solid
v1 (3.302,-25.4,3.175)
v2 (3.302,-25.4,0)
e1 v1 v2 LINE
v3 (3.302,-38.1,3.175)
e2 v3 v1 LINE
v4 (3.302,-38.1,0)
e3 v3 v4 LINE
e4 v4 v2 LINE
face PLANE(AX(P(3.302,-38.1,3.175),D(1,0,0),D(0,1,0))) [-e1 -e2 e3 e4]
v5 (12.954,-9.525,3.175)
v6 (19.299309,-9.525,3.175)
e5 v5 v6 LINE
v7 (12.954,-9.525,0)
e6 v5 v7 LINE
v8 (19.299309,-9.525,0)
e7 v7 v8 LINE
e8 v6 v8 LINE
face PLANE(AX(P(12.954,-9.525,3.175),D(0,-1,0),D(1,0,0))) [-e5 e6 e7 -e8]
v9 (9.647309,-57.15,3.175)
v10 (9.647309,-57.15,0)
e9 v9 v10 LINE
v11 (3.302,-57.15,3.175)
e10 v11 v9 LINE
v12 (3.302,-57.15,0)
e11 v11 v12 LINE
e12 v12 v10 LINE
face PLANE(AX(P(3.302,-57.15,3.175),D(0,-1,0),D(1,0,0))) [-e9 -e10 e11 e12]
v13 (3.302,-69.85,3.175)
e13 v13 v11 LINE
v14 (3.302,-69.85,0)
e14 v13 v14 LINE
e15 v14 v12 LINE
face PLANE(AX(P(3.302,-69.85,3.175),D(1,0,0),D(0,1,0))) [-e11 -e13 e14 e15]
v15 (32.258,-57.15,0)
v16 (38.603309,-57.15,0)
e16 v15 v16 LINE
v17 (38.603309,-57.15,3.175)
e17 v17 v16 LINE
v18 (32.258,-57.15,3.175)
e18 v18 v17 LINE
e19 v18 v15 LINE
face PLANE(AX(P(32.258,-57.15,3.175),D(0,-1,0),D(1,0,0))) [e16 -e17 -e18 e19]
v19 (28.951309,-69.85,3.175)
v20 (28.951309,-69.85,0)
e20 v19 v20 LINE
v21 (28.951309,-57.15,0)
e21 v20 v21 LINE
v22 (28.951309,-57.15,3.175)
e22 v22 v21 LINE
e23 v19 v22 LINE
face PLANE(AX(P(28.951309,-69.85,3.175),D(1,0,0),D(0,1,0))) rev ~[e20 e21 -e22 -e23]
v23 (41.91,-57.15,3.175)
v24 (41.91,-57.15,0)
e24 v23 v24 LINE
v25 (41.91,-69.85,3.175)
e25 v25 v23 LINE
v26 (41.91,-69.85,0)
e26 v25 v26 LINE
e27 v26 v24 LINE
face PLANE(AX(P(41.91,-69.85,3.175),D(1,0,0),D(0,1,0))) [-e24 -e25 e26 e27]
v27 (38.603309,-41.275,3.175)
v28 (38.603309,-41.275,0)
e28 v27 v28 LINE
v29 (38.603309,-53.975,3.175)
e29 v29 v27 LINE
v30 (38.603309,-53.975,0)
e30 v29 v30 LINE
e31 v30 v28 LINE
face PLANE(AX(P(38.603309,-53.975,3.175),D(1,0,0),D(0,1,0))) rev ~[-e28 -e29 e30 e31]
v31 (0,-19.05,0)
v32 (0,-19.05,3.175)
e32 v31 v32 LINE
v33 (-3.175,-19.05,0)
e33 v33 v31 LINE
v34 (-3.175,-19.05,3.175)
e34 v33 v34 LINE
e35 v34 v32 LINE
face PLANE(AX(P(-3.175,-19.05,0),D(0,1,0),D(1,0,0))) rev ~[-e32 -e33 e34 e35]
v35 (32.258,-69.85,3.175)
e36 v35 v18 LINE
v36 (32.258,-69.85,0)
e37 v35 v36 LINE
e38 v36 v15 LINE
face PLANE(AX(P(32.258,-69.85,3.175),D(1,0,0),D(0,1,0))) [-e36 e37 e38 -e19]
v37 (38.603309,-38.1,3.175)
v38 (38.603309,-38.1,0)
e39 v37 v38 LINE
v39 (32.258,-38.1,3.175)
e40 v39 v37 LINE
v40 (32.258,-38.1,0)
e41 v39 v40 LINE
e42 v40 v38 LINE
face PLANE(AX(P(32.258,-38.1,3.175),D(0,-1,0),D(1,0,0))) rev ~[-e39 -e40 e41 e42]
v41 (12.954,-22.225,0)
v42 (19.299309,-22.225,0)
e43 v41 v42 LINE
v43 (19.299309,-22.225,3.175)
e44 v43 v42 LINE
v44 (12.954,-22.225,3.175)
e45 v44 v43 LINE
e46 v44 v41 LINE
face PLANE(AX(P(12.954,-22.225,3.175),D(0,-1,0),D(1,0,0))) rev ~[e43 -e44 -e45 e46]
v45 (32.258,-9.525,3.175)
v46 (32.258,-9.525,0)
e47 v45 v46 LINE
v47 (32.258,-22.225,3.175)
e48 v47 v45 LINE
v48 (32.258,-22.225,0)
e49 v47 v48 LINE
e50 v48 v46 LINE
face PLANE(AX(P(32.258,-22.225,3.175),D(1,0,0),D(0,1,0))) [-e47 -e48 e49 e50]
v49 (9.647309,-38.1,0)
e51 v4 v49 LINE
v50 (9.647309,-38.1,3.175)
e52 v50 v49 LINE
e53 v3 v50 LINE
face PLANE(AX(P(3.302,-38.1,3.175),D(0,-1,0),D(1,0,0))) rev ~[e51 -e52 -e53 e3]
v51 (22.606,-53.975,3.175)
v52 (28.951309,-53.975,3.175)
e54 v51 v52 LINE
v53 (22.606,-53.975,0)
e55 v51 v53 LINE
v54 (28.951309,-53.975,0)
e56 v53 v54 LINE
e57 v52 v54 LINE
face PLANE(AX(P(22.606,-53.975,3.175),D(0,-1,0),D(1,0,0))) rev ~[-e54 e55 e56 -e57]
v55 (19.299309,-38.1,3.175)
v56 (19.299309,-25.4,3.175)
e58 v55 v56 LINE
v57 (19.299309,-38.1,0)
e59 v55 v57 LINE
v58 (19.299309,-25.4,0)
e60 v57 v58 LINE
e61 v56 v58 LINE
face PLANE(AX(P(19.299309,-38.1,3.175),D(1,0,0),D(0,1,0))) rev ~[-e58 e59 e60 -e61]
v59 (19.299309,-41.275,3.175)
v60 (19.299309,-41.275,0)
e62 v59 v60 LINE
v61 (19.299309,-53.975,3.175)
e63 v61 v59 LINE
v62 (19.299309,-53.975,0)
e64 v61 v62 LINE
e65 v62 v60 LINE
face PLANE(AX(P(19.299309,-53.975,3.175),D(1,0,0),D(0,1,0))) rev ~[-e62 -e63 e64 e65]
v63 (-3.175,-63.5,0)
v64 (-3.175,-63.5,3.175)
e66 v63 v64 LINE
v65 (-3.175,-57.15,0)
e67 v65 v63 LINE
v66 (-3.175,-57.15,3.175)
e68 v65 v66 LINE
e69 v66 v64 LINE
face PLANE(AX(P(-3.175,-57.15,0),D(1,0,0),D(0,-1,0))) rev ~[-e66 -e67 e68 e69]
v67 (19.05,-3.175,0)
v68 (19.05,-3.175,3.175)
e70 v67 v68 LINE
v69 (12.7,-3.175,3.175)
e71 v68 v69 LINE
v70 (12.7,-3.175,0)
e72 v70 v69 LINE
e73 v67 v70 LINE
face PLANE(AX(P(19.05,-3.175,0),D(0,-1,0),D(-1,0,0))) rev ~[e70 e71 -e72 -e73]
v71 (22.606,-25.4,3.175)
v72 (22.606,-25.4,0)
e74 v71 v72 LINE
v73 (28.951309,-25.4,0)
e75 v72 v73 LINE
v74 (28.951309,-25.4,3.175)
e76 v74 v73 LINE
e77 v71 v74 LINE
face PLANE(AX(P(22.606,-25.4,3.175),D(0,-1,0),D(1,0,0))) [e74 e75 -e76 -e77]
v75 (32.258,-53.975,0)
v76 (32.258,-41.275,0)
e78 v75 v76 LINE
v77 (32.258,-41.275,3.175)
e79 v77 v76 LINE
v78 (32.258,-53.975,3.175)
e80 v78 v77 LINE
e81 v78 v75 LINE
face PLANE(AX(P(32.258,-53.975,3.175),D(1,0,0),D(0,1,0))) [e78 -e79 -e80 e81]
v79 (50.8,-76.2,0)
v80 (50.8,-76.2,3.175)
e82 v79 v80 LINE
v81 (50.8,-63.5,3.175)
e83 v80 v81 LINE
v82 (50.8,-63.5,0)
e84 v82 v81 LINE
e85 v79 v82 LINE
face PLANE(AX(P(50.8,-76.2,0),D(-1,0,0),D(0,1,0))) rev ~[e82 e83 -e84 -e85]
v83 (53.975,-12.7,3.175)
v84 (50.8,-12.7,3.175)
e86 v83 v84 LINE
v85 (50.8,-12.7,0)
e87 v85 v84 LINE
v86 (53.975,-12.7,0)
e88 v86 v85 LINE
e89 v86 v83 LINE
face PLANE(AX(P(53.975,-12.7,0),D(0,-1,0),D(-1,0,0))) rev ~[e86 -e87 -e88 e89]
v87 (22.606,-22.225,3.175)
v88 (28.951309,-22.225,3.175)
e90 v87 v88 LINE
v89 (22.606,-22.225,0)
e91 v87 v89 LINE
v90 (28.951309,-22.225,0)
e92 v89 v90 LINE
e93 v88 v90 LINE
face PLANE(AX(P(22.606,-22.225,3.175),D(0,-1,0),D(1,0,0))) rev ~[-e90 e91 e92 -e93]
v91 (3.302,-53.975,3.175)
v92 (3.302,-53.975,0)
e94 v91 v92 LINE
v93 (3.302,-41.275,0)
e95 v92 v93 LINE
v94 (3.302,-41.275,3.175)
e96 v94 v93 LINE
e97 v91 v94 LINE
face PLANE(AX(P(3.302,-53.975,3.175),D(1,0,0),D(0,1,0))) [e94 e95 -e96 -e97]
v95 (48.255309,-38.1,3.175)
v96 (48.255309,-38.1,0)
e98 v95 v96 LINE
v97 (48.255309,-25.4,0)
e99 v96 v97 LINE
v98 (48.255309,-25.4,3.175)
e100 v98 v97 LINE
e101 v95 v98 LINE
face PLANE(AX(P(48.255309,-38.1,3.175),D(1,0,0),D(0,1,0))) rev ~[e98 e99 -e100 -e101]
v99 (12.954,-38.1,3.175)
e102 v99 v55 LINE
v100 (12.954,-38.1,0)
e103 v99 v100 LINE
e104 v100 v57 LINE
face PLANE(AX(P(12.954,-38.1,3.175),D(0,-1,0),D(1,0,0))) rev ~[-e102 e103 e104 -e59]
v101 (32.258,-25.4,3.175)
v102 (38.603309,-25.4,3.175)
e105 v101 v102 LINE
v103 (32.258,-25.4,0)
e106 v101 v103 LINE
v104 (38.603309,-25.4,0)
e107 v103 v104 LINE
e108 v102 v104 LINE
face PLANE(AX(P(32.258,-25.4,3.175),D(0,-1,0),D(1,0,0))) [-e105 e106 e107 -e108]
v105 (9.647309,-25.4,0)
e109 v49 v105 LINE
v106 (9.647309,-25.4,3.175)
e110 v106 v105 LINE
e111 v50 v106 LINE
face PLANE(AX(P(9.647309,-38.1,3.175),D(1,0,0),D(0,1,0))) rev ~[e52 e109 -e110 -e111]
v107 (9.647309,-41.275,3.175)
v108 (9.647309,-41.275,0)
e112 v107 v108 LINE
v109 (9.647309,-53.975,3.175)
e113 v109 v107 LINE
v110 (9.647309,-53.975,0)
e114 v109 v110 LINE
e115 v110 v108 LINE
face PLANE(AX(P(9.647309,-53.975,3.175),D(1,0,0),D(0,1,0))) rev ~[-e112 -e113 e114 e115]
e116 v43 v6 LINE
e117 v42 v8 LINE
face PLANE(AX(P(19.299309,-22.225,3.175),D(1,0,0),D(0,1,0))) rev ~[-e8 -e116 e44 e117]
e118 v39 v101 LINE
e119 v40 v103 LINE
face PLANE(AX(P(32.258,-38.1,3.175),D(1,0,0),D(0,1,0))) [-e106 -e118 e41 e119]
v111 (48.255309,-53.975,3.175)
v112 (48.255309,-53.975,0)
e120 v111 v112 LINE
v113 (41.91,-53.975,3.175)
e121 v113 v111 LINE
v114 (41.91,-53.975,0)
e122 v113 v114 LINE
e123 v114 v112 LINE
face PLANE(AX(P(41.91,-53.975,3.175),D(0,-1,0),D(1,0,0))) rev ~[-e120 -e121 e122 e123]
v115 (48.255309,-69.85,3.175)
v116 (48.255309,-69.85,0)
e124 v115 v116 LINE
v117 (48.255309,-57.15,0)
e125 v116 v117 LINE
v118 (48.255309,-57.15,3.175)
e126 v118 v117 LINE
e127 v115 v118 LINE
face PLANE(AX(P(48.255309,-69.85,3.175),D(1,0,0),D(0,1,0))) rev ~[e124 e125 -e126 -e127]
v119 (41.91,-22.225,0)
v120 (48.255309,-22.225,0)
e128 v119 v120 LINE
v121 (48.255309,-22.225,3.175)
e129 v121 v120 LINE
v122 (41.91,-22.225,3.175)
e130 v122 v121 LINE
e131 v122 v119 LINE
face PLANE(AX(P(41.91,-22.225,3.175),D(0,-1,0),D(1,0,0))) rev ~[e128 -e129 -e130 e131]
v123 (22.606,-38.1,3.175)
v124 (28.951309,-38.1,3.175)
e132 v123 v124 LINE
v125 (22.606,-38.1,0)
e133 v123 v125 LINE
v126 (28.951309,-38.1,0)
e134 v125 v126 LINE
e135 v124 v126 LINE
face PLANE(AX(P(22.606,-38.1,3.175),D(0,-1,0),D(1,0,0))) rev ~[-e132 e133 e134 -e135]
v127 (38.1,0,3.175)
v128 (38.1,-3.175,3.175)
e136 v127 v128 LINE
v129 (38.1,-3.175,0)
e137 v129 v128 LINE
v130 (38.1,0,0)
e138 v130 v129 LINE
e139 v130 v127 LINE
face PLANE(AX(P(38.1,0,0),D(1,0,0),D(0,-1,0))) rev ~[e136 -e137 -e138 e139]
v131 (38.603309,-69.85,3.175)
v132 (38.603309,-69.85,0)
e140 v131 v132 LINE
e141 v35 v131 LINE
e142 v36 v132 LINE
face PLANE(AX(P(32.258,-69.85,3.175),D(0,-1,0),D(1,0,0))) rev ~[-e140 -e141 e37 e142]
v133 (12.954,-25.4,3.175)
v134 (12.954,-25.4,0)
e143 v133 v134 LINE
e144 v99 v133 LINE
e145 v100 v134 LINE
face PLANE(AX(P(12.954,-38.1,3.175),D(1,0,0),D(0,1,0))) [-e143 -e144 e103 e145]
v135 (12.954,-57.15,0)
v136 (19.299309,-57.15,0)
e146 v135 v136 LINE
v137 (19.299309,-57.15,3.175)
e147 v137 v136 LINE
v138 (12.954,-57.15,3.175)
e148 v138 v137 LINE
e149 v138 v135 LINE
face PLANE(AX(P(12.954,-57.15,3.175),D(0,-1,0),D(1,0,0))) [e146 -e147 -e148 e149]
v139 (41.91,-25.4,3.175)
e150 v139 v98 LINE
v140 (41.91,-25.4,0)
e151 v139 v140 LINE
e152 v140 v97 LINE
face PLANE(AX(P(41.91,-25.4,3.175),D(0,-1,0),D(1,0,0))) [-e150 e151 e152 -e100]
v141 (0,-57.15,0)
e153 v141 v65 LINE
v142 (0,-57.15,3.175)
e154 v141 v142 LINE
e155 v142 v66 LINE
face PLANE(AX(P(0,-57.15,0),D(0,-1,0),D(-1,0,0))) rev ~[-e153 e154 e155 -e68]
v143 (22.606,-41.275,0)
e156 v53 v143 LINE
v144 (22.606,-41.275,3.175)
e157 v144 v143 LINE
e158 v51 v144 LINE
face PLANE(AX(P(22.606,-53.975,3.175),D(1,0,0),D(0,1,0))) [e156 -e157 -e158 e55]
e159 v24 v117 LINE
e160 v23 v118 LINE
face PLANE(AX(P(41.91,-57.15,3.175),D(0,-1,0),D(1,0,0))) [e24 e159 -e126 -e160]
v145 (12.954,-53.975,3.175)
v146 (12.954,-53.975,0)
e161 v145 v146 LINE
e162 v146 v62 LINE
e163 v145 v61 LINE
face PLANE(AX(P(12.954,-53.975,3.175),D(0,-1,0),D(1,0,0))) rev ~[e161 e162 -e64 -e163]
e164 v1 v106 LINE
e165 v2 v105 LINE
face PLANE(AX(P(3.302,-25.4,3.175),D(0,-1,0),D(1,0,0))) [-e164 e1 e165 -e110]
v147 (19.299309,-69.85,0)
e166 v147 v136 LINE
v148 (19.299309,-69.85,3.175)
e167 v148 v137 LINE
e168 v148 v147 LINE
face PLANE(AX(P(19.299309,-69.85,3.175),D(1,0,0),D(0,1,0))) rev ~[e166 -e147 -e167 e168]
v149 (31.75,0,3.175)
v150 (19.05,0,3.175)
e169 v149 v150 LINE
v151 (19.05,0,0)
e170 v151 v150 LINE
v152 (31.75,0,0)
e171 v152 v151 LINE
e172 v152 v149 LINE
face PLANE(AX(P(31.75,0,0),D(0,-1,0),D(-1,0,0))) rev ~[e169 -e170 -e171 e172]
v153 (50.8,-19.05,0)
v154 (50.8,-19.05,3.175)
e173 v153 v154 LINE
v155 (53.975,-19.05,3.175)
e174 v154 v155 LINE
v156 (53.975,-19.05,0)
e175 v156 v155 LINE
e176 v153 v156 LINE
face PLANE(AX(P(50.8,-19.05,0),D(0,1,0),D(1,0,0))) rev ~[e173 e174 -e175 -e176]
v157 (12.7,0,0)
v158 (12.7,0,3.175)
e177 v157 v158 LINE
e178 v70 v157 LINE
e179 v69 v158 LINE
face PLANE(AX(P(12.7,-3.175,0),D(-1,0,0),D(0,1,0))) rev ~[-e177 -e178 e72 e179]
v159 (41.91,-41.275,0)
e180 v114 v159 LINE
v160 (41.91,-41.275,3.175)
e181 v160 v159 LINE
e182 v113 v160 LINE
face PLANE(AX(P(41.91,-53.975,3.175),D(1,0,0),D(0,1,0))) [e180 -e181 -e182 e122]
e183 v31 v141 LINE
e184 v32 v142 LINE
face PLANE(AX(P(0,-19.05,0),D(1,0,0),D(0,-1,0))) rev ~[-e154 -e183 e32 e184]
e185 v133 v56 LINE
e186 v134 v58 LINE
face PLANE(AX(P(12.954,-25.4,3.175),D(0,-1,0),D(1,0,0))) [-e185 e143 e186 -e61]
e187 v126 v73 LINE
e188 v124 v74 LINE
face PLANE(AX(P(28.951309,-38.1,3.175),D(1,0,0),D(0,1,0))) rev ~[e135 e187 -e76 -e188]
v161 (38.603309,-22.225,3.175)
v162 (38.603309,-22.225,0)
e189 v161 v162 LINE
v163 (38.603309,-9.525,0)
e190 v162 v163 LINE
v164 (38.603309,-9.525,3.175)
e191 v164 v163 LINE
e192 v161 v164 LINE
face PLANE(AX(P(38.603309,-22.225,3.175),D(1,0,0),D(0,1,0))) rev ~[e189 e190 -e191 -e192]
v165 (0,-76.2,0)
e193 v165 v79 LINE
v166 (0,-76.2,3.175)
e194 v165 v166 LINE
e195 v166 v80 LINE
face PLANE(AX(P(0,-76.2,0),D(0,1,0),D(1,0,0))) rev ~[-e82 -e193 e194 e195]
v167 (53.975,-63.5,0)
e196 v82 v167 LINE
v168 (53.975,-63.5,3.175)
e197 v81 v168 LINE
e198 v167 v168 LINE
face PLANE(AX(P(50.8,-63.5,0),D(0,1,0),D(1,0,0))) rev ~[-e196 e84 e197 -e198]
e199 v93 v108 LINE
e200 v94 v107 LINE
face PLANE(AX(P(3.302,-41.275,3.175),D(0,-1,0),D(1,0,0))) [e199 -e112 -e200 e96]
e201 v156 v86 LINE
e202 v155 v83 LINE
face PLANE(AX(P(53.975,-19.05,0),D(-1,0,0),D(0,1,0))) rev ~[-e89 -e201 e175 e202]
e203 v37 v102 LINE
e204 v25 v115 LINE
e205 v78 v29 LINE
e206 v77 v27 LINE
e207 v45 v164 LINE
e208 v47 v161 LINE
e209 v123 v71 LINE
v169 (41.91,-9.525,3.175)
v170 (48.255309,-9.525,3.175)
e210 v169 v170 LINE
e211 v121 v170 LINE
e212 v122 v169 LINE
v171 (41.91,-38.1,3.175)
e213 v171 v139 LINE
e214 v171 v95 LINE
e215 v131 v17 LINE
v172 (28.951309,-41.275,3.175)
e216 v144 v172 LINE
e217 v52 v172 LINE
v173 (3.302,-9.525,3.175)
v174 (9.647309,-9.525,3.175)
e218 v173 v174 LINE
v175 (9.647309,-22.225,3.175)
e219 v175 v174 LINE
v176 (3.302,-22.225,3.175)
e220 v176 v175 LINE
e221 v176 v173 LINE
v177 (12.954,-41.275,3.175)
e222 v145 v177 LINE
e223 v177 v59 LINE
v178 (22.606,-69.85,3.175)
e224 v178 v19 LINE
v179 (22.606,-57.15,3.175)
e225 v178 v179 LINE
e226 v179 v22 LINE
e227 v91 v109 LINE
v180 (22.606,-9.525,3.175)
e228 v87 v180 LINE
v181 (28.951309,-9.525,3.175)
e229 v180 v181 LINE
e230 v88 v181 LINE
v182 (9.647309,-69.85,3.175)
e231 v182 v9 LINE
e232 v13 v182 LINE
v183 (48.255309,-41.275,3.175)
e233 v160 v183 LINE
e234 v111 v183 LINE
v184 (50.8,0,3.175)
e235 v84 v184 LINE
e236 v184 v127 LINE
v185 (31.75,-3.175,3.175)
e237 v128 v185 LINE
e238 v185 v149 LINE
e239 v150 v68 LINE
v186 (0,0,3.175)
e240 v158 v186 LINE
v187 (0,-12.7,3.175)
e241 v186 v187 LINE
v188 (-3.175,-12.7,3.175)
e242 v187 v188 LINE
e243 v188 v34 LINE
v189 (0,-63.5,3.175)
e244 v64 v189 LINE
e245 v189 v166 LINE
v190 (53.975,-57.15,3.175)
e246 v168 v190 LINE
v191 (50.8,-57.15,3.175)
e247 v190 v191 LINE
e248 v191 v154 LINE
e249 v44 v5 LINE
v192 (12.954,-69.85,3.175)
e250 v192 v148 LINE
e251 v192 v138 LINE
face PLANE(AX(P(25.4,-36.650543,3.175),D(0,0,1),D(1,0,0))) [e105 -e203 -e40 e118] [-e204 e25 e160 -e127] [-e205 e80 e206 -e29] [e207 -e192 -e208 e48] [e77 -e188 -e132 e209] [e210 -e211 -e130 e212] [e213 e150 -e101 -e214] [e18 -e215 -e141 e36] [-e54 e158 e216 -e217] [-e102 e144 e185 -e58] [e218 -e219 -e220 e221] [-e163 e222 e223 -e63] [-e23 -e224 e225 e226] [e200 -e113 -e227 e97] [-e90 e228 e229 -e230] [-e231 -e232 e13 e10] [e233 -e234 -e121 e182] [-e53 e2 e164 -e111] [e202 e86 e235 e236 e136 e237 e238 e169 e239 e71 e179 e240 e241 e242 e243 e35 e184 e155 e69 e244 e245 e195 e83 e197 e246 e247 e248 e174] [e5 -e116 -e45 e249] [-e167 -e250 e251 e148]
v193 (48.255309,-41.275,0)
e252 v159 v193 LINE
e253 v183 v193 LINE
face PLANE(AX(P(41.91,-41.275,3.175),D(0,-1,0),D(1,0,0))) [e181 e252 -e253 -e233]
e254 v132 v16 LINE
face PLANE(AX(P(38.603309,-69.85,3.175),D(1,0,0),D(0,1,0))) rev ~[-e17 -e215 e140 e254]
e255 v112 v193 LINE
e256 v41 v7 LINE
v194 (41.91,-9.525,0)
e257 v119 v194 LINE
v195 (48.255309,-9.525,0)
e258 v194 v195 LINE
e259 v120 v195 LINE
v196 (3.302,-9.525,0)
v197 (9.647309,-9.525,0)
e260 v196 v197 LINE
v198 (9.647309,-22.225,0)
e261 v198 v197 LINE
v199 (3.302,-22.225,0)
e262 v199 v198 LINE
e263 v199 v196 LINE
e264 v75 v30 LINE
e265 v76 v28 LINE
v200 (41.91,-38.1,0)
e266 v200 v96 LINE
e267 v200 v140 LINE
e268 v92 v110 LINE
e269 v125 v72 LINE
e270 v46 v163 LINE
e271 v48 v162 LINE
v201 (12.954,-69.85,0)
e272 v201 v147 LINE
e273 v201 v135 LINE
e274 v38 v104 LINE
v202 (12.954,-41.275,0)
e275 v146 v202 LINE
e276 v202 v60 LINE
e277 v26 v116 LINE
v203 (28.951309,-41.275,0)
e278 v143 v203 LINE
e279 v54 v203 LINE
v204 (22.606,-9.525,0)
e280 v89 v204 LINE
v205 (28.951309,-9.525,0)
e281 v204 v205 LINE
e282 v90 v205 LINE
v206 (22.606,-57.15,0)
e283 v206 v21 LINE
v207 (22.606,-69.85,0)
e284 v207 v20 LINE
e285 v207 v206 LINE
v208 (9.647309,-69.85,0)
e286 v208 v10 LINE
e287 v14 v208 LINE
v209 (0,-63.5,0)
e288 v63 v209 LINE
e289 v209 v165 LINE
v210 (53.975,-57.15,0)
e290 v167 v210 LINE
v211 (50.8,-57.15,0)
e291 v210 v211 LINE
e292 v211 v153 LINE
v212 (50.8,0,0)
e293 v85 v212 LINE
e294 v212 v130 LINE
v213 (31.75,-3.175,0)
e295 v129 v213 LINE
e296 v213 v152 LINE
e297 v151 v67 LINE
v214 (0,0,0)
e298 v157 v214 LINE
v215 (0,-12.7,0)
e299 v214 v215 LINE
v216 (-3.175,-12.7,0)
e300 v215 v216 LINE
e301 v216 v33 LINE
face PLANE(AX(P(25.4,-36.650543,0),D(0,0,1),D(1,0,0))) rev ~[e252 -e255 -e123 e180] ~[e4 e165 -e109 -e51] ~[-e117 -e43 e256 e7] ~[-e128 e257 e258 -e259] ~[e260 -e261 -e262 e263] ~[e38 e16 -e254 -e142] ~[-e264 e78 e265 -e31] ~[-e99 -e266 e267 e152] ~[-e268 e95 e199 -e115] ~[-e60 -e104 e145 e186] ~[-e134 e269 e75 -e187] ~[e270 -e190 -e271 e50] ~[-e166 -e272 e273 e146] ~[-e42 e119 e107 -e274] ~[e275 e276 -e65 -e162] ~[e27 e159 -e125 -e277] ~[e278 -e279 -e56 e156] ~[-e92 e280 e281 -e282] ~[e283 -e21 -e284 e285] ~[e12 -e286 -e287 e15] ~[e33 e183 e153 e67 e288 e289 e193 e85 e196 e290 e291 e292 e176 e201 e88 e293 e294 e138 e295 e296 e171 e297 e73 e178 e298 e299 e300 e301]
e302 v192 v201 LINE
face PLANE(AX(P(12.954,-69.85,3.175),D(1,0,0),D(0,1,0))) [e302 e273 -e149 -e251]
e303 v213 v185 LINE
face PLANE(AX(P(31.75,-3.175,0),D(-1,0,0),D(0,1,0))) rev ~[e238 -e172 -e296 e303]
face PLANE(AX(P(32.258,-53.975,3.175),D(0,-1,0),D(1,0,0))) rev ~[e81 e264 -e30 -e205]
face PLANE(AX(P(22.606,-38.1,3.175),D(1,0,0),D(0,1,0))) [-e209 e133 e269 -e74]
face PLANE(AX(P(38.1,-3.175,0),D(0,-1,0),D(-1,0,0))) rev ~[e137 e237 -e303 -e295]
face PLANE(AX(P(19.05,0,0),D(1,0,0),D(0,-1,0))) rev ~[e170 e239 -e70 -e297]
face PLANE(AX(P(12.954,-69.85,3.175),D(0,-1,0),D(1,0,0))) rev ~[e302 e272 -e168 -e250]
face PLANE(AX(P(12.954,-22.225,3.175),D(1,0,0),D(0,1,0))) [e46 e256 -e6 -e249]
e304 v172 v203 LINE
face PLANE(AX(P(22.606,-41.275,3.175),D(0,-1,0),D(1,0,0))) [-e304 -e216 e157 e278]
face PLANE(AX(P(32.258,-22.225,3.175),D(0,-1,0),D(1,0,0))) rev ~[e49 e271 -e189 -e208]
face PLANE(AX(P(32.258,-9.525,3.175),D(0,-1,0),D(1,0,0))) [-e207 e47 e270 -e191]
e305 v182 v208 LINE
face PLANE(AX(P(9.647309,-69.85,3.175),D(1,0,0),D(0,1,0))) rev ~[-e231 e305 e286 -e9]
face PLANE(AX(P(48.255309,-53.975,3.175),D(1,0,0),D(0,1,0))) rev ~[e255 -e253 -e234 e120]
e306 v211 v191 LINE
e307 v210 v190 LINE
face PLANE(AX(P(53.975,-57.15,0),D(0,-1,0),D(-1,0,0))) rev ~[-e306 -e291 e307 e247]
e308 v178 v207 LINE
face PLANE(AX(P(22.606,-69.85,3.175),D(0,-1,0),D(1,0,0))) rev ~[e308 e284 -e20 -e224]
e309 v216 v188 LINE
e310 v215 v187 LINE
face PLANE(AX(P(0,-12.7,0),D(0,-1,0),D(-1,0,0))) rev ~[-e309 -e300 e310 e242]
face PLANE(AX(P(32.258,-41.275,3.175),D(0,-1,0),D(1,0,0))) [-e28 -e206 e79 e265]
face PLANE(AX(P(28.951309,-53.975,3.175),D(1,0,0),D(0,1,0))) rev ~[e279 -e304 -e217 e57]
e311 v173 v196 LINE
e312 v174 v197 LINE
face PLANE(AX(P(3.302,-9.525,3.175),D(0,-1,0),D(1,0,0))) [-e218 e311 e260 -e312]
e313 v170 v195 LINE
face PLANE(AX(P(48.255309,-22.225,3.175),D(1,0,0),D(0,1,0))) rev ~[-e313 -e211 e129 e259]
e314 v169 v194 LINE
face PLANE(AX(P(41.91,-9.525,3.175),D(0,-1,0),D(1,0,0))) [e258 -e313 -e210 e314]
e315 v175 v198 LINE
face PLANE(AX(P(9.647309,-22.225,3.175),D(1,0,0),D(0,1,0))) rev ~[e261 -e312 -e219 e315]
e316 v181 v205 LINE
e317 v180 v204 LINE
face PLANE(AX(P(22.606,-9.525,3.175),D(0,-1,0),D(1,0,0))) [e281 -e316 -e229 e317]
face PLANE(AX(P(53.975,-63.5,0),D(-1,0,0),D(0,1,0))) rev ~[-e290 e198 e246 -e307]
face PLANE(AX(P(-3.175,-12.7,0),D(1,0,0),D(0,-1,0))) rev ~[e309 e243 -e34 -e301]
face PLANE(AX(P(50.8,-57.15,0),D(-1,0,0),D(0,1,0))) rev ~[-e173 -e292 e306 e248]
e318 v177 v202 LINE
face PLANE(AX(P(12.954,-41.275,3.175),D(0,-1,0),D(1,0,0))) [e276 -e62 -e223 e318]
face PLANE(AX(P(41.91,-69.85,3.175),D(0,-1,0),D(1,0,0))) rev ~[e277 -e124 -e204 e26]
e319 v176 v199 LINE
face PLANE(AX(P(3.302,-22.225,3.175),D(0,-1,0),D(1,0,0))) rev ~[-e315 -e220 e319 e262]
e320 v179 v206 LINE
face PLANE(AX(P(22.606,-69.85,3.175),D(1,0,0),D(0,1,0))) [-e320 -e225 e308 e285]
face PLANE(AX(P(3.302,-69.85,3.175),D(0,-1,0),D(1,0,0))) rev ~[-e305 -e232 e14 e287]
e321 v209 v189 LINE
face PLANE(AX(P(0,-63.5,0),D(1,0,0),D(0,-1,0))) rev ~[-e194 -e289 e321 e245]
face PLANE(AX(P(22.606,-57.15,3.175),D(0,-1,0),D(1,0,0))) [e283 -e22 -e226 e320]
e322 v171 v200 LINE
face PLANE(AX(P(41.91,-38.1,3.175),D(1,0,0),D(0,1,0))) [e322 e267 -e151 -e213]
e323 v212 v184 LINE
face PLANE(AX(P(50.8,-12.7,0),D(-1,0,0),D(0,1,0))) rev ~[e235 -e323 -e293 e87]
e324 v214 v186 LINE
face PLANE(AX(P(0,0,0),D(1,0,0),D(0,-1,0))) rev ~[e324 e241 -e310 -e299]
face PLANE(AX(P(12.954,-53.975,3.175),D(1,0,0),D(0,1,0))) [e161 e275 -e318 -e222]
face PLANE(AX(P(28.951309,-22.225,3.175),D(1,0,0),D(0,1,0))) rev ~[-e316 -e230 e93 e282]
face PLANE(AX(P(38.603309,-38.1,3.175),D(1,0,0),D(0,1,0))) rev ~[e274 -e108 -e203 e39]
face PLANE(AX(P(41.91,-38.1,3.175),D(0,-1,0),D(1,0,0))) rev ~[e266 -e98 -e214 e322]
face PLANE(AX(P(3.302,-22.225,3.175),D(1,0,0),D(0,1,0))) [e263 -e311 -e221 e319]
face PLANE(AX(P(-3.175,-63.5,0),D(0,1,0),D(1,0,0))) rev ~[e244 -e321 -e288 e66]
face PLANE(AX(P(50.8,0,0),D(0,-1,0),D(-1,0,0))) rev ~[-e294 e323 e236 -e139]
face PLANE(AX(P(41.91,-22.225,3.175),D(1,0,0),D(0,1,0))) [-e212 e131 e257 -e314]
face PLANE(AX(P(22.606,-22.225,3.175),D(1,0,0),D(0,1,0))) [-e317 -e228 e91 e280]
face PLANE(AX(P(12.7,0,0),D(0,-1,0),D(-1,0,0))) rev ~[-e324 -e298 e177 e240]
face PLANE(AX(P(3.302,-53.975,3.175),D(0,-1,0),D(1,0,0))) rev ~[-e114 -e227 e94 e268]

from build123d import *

# Parameters (mm, degrees)
BOSS_EXTRUDE1_DEPTH  = 3.175
SKETCH2_W            = 6.345309088
SKETCH2_H            = 12.7
CUT_EXTRUDE1_DEPTH   = 5.08
LPATTERN1_COUNT      = 5
LPATTERN1_PITCH      = 9.652
LPATTERN1_COUNT_DIR2 = 4
LPATTERN1_PITCH_DIR2 = 15.875


with BuildPart() as part:
    # Sketch1 → Boss-Extrude1 (new body)
    with BuildSketch(Plane.XY):
        Polygon((31.75, 0), (19.05, 0), (19.05, -3.175), (12.7, -3.175), (12.7, 0), (0, 0), (0, -12.7), (-3.175, -12.7), (-3.175, -19.05), (0, -19.05), (0, -57.15), (-3.175, -57.15), (-3.175, -63.5), (0, -63.5), (0, -76.2), (12.7, -76.2), (38.1, -76.2), (50.8, -76.2), (50.8, -63.5), (53.975, -63.5), (53.975, -57.15), (50.8, -57.15), (50.8, -19.05), (53.975, -19.05), (53.975, -12.7), (50.8, -12.7), (50.8, 0), (38.1, 0), (38.1, -3.175), (31.75, -3.175), align=None)
    extrude(amount=BOSS_EXTRUDE1_DEPTH)

    # Sketch2 → Cut-Extrude1 (cut)
    with BuildSketch(Plane.XY.offset(3.175)):
        with Locations((6.474654544, -15.875)):
            Rectangle(SKETCH2_W, SKETCH2_H)
    cut_extrude1 = extrude(amount=-CUT_EXTRUDE1_DEPTH, mode=Mode.SUBTRACT)

    # LPattern1: Cut-Extrude1 5 × 4
    with Locations(*[(i * LPATTERN1_PITCH, -j * LPATTERN1_PITCH_DIR2, 0) for i in range(LPATTERN1_COUNT) for j in range(LPATTERN1_COUNT_DIR2) if (i, j) != (0, 0)]):
        add(cut_extrude1, mode=Mode.SUBTRACT)


solid = part.part
